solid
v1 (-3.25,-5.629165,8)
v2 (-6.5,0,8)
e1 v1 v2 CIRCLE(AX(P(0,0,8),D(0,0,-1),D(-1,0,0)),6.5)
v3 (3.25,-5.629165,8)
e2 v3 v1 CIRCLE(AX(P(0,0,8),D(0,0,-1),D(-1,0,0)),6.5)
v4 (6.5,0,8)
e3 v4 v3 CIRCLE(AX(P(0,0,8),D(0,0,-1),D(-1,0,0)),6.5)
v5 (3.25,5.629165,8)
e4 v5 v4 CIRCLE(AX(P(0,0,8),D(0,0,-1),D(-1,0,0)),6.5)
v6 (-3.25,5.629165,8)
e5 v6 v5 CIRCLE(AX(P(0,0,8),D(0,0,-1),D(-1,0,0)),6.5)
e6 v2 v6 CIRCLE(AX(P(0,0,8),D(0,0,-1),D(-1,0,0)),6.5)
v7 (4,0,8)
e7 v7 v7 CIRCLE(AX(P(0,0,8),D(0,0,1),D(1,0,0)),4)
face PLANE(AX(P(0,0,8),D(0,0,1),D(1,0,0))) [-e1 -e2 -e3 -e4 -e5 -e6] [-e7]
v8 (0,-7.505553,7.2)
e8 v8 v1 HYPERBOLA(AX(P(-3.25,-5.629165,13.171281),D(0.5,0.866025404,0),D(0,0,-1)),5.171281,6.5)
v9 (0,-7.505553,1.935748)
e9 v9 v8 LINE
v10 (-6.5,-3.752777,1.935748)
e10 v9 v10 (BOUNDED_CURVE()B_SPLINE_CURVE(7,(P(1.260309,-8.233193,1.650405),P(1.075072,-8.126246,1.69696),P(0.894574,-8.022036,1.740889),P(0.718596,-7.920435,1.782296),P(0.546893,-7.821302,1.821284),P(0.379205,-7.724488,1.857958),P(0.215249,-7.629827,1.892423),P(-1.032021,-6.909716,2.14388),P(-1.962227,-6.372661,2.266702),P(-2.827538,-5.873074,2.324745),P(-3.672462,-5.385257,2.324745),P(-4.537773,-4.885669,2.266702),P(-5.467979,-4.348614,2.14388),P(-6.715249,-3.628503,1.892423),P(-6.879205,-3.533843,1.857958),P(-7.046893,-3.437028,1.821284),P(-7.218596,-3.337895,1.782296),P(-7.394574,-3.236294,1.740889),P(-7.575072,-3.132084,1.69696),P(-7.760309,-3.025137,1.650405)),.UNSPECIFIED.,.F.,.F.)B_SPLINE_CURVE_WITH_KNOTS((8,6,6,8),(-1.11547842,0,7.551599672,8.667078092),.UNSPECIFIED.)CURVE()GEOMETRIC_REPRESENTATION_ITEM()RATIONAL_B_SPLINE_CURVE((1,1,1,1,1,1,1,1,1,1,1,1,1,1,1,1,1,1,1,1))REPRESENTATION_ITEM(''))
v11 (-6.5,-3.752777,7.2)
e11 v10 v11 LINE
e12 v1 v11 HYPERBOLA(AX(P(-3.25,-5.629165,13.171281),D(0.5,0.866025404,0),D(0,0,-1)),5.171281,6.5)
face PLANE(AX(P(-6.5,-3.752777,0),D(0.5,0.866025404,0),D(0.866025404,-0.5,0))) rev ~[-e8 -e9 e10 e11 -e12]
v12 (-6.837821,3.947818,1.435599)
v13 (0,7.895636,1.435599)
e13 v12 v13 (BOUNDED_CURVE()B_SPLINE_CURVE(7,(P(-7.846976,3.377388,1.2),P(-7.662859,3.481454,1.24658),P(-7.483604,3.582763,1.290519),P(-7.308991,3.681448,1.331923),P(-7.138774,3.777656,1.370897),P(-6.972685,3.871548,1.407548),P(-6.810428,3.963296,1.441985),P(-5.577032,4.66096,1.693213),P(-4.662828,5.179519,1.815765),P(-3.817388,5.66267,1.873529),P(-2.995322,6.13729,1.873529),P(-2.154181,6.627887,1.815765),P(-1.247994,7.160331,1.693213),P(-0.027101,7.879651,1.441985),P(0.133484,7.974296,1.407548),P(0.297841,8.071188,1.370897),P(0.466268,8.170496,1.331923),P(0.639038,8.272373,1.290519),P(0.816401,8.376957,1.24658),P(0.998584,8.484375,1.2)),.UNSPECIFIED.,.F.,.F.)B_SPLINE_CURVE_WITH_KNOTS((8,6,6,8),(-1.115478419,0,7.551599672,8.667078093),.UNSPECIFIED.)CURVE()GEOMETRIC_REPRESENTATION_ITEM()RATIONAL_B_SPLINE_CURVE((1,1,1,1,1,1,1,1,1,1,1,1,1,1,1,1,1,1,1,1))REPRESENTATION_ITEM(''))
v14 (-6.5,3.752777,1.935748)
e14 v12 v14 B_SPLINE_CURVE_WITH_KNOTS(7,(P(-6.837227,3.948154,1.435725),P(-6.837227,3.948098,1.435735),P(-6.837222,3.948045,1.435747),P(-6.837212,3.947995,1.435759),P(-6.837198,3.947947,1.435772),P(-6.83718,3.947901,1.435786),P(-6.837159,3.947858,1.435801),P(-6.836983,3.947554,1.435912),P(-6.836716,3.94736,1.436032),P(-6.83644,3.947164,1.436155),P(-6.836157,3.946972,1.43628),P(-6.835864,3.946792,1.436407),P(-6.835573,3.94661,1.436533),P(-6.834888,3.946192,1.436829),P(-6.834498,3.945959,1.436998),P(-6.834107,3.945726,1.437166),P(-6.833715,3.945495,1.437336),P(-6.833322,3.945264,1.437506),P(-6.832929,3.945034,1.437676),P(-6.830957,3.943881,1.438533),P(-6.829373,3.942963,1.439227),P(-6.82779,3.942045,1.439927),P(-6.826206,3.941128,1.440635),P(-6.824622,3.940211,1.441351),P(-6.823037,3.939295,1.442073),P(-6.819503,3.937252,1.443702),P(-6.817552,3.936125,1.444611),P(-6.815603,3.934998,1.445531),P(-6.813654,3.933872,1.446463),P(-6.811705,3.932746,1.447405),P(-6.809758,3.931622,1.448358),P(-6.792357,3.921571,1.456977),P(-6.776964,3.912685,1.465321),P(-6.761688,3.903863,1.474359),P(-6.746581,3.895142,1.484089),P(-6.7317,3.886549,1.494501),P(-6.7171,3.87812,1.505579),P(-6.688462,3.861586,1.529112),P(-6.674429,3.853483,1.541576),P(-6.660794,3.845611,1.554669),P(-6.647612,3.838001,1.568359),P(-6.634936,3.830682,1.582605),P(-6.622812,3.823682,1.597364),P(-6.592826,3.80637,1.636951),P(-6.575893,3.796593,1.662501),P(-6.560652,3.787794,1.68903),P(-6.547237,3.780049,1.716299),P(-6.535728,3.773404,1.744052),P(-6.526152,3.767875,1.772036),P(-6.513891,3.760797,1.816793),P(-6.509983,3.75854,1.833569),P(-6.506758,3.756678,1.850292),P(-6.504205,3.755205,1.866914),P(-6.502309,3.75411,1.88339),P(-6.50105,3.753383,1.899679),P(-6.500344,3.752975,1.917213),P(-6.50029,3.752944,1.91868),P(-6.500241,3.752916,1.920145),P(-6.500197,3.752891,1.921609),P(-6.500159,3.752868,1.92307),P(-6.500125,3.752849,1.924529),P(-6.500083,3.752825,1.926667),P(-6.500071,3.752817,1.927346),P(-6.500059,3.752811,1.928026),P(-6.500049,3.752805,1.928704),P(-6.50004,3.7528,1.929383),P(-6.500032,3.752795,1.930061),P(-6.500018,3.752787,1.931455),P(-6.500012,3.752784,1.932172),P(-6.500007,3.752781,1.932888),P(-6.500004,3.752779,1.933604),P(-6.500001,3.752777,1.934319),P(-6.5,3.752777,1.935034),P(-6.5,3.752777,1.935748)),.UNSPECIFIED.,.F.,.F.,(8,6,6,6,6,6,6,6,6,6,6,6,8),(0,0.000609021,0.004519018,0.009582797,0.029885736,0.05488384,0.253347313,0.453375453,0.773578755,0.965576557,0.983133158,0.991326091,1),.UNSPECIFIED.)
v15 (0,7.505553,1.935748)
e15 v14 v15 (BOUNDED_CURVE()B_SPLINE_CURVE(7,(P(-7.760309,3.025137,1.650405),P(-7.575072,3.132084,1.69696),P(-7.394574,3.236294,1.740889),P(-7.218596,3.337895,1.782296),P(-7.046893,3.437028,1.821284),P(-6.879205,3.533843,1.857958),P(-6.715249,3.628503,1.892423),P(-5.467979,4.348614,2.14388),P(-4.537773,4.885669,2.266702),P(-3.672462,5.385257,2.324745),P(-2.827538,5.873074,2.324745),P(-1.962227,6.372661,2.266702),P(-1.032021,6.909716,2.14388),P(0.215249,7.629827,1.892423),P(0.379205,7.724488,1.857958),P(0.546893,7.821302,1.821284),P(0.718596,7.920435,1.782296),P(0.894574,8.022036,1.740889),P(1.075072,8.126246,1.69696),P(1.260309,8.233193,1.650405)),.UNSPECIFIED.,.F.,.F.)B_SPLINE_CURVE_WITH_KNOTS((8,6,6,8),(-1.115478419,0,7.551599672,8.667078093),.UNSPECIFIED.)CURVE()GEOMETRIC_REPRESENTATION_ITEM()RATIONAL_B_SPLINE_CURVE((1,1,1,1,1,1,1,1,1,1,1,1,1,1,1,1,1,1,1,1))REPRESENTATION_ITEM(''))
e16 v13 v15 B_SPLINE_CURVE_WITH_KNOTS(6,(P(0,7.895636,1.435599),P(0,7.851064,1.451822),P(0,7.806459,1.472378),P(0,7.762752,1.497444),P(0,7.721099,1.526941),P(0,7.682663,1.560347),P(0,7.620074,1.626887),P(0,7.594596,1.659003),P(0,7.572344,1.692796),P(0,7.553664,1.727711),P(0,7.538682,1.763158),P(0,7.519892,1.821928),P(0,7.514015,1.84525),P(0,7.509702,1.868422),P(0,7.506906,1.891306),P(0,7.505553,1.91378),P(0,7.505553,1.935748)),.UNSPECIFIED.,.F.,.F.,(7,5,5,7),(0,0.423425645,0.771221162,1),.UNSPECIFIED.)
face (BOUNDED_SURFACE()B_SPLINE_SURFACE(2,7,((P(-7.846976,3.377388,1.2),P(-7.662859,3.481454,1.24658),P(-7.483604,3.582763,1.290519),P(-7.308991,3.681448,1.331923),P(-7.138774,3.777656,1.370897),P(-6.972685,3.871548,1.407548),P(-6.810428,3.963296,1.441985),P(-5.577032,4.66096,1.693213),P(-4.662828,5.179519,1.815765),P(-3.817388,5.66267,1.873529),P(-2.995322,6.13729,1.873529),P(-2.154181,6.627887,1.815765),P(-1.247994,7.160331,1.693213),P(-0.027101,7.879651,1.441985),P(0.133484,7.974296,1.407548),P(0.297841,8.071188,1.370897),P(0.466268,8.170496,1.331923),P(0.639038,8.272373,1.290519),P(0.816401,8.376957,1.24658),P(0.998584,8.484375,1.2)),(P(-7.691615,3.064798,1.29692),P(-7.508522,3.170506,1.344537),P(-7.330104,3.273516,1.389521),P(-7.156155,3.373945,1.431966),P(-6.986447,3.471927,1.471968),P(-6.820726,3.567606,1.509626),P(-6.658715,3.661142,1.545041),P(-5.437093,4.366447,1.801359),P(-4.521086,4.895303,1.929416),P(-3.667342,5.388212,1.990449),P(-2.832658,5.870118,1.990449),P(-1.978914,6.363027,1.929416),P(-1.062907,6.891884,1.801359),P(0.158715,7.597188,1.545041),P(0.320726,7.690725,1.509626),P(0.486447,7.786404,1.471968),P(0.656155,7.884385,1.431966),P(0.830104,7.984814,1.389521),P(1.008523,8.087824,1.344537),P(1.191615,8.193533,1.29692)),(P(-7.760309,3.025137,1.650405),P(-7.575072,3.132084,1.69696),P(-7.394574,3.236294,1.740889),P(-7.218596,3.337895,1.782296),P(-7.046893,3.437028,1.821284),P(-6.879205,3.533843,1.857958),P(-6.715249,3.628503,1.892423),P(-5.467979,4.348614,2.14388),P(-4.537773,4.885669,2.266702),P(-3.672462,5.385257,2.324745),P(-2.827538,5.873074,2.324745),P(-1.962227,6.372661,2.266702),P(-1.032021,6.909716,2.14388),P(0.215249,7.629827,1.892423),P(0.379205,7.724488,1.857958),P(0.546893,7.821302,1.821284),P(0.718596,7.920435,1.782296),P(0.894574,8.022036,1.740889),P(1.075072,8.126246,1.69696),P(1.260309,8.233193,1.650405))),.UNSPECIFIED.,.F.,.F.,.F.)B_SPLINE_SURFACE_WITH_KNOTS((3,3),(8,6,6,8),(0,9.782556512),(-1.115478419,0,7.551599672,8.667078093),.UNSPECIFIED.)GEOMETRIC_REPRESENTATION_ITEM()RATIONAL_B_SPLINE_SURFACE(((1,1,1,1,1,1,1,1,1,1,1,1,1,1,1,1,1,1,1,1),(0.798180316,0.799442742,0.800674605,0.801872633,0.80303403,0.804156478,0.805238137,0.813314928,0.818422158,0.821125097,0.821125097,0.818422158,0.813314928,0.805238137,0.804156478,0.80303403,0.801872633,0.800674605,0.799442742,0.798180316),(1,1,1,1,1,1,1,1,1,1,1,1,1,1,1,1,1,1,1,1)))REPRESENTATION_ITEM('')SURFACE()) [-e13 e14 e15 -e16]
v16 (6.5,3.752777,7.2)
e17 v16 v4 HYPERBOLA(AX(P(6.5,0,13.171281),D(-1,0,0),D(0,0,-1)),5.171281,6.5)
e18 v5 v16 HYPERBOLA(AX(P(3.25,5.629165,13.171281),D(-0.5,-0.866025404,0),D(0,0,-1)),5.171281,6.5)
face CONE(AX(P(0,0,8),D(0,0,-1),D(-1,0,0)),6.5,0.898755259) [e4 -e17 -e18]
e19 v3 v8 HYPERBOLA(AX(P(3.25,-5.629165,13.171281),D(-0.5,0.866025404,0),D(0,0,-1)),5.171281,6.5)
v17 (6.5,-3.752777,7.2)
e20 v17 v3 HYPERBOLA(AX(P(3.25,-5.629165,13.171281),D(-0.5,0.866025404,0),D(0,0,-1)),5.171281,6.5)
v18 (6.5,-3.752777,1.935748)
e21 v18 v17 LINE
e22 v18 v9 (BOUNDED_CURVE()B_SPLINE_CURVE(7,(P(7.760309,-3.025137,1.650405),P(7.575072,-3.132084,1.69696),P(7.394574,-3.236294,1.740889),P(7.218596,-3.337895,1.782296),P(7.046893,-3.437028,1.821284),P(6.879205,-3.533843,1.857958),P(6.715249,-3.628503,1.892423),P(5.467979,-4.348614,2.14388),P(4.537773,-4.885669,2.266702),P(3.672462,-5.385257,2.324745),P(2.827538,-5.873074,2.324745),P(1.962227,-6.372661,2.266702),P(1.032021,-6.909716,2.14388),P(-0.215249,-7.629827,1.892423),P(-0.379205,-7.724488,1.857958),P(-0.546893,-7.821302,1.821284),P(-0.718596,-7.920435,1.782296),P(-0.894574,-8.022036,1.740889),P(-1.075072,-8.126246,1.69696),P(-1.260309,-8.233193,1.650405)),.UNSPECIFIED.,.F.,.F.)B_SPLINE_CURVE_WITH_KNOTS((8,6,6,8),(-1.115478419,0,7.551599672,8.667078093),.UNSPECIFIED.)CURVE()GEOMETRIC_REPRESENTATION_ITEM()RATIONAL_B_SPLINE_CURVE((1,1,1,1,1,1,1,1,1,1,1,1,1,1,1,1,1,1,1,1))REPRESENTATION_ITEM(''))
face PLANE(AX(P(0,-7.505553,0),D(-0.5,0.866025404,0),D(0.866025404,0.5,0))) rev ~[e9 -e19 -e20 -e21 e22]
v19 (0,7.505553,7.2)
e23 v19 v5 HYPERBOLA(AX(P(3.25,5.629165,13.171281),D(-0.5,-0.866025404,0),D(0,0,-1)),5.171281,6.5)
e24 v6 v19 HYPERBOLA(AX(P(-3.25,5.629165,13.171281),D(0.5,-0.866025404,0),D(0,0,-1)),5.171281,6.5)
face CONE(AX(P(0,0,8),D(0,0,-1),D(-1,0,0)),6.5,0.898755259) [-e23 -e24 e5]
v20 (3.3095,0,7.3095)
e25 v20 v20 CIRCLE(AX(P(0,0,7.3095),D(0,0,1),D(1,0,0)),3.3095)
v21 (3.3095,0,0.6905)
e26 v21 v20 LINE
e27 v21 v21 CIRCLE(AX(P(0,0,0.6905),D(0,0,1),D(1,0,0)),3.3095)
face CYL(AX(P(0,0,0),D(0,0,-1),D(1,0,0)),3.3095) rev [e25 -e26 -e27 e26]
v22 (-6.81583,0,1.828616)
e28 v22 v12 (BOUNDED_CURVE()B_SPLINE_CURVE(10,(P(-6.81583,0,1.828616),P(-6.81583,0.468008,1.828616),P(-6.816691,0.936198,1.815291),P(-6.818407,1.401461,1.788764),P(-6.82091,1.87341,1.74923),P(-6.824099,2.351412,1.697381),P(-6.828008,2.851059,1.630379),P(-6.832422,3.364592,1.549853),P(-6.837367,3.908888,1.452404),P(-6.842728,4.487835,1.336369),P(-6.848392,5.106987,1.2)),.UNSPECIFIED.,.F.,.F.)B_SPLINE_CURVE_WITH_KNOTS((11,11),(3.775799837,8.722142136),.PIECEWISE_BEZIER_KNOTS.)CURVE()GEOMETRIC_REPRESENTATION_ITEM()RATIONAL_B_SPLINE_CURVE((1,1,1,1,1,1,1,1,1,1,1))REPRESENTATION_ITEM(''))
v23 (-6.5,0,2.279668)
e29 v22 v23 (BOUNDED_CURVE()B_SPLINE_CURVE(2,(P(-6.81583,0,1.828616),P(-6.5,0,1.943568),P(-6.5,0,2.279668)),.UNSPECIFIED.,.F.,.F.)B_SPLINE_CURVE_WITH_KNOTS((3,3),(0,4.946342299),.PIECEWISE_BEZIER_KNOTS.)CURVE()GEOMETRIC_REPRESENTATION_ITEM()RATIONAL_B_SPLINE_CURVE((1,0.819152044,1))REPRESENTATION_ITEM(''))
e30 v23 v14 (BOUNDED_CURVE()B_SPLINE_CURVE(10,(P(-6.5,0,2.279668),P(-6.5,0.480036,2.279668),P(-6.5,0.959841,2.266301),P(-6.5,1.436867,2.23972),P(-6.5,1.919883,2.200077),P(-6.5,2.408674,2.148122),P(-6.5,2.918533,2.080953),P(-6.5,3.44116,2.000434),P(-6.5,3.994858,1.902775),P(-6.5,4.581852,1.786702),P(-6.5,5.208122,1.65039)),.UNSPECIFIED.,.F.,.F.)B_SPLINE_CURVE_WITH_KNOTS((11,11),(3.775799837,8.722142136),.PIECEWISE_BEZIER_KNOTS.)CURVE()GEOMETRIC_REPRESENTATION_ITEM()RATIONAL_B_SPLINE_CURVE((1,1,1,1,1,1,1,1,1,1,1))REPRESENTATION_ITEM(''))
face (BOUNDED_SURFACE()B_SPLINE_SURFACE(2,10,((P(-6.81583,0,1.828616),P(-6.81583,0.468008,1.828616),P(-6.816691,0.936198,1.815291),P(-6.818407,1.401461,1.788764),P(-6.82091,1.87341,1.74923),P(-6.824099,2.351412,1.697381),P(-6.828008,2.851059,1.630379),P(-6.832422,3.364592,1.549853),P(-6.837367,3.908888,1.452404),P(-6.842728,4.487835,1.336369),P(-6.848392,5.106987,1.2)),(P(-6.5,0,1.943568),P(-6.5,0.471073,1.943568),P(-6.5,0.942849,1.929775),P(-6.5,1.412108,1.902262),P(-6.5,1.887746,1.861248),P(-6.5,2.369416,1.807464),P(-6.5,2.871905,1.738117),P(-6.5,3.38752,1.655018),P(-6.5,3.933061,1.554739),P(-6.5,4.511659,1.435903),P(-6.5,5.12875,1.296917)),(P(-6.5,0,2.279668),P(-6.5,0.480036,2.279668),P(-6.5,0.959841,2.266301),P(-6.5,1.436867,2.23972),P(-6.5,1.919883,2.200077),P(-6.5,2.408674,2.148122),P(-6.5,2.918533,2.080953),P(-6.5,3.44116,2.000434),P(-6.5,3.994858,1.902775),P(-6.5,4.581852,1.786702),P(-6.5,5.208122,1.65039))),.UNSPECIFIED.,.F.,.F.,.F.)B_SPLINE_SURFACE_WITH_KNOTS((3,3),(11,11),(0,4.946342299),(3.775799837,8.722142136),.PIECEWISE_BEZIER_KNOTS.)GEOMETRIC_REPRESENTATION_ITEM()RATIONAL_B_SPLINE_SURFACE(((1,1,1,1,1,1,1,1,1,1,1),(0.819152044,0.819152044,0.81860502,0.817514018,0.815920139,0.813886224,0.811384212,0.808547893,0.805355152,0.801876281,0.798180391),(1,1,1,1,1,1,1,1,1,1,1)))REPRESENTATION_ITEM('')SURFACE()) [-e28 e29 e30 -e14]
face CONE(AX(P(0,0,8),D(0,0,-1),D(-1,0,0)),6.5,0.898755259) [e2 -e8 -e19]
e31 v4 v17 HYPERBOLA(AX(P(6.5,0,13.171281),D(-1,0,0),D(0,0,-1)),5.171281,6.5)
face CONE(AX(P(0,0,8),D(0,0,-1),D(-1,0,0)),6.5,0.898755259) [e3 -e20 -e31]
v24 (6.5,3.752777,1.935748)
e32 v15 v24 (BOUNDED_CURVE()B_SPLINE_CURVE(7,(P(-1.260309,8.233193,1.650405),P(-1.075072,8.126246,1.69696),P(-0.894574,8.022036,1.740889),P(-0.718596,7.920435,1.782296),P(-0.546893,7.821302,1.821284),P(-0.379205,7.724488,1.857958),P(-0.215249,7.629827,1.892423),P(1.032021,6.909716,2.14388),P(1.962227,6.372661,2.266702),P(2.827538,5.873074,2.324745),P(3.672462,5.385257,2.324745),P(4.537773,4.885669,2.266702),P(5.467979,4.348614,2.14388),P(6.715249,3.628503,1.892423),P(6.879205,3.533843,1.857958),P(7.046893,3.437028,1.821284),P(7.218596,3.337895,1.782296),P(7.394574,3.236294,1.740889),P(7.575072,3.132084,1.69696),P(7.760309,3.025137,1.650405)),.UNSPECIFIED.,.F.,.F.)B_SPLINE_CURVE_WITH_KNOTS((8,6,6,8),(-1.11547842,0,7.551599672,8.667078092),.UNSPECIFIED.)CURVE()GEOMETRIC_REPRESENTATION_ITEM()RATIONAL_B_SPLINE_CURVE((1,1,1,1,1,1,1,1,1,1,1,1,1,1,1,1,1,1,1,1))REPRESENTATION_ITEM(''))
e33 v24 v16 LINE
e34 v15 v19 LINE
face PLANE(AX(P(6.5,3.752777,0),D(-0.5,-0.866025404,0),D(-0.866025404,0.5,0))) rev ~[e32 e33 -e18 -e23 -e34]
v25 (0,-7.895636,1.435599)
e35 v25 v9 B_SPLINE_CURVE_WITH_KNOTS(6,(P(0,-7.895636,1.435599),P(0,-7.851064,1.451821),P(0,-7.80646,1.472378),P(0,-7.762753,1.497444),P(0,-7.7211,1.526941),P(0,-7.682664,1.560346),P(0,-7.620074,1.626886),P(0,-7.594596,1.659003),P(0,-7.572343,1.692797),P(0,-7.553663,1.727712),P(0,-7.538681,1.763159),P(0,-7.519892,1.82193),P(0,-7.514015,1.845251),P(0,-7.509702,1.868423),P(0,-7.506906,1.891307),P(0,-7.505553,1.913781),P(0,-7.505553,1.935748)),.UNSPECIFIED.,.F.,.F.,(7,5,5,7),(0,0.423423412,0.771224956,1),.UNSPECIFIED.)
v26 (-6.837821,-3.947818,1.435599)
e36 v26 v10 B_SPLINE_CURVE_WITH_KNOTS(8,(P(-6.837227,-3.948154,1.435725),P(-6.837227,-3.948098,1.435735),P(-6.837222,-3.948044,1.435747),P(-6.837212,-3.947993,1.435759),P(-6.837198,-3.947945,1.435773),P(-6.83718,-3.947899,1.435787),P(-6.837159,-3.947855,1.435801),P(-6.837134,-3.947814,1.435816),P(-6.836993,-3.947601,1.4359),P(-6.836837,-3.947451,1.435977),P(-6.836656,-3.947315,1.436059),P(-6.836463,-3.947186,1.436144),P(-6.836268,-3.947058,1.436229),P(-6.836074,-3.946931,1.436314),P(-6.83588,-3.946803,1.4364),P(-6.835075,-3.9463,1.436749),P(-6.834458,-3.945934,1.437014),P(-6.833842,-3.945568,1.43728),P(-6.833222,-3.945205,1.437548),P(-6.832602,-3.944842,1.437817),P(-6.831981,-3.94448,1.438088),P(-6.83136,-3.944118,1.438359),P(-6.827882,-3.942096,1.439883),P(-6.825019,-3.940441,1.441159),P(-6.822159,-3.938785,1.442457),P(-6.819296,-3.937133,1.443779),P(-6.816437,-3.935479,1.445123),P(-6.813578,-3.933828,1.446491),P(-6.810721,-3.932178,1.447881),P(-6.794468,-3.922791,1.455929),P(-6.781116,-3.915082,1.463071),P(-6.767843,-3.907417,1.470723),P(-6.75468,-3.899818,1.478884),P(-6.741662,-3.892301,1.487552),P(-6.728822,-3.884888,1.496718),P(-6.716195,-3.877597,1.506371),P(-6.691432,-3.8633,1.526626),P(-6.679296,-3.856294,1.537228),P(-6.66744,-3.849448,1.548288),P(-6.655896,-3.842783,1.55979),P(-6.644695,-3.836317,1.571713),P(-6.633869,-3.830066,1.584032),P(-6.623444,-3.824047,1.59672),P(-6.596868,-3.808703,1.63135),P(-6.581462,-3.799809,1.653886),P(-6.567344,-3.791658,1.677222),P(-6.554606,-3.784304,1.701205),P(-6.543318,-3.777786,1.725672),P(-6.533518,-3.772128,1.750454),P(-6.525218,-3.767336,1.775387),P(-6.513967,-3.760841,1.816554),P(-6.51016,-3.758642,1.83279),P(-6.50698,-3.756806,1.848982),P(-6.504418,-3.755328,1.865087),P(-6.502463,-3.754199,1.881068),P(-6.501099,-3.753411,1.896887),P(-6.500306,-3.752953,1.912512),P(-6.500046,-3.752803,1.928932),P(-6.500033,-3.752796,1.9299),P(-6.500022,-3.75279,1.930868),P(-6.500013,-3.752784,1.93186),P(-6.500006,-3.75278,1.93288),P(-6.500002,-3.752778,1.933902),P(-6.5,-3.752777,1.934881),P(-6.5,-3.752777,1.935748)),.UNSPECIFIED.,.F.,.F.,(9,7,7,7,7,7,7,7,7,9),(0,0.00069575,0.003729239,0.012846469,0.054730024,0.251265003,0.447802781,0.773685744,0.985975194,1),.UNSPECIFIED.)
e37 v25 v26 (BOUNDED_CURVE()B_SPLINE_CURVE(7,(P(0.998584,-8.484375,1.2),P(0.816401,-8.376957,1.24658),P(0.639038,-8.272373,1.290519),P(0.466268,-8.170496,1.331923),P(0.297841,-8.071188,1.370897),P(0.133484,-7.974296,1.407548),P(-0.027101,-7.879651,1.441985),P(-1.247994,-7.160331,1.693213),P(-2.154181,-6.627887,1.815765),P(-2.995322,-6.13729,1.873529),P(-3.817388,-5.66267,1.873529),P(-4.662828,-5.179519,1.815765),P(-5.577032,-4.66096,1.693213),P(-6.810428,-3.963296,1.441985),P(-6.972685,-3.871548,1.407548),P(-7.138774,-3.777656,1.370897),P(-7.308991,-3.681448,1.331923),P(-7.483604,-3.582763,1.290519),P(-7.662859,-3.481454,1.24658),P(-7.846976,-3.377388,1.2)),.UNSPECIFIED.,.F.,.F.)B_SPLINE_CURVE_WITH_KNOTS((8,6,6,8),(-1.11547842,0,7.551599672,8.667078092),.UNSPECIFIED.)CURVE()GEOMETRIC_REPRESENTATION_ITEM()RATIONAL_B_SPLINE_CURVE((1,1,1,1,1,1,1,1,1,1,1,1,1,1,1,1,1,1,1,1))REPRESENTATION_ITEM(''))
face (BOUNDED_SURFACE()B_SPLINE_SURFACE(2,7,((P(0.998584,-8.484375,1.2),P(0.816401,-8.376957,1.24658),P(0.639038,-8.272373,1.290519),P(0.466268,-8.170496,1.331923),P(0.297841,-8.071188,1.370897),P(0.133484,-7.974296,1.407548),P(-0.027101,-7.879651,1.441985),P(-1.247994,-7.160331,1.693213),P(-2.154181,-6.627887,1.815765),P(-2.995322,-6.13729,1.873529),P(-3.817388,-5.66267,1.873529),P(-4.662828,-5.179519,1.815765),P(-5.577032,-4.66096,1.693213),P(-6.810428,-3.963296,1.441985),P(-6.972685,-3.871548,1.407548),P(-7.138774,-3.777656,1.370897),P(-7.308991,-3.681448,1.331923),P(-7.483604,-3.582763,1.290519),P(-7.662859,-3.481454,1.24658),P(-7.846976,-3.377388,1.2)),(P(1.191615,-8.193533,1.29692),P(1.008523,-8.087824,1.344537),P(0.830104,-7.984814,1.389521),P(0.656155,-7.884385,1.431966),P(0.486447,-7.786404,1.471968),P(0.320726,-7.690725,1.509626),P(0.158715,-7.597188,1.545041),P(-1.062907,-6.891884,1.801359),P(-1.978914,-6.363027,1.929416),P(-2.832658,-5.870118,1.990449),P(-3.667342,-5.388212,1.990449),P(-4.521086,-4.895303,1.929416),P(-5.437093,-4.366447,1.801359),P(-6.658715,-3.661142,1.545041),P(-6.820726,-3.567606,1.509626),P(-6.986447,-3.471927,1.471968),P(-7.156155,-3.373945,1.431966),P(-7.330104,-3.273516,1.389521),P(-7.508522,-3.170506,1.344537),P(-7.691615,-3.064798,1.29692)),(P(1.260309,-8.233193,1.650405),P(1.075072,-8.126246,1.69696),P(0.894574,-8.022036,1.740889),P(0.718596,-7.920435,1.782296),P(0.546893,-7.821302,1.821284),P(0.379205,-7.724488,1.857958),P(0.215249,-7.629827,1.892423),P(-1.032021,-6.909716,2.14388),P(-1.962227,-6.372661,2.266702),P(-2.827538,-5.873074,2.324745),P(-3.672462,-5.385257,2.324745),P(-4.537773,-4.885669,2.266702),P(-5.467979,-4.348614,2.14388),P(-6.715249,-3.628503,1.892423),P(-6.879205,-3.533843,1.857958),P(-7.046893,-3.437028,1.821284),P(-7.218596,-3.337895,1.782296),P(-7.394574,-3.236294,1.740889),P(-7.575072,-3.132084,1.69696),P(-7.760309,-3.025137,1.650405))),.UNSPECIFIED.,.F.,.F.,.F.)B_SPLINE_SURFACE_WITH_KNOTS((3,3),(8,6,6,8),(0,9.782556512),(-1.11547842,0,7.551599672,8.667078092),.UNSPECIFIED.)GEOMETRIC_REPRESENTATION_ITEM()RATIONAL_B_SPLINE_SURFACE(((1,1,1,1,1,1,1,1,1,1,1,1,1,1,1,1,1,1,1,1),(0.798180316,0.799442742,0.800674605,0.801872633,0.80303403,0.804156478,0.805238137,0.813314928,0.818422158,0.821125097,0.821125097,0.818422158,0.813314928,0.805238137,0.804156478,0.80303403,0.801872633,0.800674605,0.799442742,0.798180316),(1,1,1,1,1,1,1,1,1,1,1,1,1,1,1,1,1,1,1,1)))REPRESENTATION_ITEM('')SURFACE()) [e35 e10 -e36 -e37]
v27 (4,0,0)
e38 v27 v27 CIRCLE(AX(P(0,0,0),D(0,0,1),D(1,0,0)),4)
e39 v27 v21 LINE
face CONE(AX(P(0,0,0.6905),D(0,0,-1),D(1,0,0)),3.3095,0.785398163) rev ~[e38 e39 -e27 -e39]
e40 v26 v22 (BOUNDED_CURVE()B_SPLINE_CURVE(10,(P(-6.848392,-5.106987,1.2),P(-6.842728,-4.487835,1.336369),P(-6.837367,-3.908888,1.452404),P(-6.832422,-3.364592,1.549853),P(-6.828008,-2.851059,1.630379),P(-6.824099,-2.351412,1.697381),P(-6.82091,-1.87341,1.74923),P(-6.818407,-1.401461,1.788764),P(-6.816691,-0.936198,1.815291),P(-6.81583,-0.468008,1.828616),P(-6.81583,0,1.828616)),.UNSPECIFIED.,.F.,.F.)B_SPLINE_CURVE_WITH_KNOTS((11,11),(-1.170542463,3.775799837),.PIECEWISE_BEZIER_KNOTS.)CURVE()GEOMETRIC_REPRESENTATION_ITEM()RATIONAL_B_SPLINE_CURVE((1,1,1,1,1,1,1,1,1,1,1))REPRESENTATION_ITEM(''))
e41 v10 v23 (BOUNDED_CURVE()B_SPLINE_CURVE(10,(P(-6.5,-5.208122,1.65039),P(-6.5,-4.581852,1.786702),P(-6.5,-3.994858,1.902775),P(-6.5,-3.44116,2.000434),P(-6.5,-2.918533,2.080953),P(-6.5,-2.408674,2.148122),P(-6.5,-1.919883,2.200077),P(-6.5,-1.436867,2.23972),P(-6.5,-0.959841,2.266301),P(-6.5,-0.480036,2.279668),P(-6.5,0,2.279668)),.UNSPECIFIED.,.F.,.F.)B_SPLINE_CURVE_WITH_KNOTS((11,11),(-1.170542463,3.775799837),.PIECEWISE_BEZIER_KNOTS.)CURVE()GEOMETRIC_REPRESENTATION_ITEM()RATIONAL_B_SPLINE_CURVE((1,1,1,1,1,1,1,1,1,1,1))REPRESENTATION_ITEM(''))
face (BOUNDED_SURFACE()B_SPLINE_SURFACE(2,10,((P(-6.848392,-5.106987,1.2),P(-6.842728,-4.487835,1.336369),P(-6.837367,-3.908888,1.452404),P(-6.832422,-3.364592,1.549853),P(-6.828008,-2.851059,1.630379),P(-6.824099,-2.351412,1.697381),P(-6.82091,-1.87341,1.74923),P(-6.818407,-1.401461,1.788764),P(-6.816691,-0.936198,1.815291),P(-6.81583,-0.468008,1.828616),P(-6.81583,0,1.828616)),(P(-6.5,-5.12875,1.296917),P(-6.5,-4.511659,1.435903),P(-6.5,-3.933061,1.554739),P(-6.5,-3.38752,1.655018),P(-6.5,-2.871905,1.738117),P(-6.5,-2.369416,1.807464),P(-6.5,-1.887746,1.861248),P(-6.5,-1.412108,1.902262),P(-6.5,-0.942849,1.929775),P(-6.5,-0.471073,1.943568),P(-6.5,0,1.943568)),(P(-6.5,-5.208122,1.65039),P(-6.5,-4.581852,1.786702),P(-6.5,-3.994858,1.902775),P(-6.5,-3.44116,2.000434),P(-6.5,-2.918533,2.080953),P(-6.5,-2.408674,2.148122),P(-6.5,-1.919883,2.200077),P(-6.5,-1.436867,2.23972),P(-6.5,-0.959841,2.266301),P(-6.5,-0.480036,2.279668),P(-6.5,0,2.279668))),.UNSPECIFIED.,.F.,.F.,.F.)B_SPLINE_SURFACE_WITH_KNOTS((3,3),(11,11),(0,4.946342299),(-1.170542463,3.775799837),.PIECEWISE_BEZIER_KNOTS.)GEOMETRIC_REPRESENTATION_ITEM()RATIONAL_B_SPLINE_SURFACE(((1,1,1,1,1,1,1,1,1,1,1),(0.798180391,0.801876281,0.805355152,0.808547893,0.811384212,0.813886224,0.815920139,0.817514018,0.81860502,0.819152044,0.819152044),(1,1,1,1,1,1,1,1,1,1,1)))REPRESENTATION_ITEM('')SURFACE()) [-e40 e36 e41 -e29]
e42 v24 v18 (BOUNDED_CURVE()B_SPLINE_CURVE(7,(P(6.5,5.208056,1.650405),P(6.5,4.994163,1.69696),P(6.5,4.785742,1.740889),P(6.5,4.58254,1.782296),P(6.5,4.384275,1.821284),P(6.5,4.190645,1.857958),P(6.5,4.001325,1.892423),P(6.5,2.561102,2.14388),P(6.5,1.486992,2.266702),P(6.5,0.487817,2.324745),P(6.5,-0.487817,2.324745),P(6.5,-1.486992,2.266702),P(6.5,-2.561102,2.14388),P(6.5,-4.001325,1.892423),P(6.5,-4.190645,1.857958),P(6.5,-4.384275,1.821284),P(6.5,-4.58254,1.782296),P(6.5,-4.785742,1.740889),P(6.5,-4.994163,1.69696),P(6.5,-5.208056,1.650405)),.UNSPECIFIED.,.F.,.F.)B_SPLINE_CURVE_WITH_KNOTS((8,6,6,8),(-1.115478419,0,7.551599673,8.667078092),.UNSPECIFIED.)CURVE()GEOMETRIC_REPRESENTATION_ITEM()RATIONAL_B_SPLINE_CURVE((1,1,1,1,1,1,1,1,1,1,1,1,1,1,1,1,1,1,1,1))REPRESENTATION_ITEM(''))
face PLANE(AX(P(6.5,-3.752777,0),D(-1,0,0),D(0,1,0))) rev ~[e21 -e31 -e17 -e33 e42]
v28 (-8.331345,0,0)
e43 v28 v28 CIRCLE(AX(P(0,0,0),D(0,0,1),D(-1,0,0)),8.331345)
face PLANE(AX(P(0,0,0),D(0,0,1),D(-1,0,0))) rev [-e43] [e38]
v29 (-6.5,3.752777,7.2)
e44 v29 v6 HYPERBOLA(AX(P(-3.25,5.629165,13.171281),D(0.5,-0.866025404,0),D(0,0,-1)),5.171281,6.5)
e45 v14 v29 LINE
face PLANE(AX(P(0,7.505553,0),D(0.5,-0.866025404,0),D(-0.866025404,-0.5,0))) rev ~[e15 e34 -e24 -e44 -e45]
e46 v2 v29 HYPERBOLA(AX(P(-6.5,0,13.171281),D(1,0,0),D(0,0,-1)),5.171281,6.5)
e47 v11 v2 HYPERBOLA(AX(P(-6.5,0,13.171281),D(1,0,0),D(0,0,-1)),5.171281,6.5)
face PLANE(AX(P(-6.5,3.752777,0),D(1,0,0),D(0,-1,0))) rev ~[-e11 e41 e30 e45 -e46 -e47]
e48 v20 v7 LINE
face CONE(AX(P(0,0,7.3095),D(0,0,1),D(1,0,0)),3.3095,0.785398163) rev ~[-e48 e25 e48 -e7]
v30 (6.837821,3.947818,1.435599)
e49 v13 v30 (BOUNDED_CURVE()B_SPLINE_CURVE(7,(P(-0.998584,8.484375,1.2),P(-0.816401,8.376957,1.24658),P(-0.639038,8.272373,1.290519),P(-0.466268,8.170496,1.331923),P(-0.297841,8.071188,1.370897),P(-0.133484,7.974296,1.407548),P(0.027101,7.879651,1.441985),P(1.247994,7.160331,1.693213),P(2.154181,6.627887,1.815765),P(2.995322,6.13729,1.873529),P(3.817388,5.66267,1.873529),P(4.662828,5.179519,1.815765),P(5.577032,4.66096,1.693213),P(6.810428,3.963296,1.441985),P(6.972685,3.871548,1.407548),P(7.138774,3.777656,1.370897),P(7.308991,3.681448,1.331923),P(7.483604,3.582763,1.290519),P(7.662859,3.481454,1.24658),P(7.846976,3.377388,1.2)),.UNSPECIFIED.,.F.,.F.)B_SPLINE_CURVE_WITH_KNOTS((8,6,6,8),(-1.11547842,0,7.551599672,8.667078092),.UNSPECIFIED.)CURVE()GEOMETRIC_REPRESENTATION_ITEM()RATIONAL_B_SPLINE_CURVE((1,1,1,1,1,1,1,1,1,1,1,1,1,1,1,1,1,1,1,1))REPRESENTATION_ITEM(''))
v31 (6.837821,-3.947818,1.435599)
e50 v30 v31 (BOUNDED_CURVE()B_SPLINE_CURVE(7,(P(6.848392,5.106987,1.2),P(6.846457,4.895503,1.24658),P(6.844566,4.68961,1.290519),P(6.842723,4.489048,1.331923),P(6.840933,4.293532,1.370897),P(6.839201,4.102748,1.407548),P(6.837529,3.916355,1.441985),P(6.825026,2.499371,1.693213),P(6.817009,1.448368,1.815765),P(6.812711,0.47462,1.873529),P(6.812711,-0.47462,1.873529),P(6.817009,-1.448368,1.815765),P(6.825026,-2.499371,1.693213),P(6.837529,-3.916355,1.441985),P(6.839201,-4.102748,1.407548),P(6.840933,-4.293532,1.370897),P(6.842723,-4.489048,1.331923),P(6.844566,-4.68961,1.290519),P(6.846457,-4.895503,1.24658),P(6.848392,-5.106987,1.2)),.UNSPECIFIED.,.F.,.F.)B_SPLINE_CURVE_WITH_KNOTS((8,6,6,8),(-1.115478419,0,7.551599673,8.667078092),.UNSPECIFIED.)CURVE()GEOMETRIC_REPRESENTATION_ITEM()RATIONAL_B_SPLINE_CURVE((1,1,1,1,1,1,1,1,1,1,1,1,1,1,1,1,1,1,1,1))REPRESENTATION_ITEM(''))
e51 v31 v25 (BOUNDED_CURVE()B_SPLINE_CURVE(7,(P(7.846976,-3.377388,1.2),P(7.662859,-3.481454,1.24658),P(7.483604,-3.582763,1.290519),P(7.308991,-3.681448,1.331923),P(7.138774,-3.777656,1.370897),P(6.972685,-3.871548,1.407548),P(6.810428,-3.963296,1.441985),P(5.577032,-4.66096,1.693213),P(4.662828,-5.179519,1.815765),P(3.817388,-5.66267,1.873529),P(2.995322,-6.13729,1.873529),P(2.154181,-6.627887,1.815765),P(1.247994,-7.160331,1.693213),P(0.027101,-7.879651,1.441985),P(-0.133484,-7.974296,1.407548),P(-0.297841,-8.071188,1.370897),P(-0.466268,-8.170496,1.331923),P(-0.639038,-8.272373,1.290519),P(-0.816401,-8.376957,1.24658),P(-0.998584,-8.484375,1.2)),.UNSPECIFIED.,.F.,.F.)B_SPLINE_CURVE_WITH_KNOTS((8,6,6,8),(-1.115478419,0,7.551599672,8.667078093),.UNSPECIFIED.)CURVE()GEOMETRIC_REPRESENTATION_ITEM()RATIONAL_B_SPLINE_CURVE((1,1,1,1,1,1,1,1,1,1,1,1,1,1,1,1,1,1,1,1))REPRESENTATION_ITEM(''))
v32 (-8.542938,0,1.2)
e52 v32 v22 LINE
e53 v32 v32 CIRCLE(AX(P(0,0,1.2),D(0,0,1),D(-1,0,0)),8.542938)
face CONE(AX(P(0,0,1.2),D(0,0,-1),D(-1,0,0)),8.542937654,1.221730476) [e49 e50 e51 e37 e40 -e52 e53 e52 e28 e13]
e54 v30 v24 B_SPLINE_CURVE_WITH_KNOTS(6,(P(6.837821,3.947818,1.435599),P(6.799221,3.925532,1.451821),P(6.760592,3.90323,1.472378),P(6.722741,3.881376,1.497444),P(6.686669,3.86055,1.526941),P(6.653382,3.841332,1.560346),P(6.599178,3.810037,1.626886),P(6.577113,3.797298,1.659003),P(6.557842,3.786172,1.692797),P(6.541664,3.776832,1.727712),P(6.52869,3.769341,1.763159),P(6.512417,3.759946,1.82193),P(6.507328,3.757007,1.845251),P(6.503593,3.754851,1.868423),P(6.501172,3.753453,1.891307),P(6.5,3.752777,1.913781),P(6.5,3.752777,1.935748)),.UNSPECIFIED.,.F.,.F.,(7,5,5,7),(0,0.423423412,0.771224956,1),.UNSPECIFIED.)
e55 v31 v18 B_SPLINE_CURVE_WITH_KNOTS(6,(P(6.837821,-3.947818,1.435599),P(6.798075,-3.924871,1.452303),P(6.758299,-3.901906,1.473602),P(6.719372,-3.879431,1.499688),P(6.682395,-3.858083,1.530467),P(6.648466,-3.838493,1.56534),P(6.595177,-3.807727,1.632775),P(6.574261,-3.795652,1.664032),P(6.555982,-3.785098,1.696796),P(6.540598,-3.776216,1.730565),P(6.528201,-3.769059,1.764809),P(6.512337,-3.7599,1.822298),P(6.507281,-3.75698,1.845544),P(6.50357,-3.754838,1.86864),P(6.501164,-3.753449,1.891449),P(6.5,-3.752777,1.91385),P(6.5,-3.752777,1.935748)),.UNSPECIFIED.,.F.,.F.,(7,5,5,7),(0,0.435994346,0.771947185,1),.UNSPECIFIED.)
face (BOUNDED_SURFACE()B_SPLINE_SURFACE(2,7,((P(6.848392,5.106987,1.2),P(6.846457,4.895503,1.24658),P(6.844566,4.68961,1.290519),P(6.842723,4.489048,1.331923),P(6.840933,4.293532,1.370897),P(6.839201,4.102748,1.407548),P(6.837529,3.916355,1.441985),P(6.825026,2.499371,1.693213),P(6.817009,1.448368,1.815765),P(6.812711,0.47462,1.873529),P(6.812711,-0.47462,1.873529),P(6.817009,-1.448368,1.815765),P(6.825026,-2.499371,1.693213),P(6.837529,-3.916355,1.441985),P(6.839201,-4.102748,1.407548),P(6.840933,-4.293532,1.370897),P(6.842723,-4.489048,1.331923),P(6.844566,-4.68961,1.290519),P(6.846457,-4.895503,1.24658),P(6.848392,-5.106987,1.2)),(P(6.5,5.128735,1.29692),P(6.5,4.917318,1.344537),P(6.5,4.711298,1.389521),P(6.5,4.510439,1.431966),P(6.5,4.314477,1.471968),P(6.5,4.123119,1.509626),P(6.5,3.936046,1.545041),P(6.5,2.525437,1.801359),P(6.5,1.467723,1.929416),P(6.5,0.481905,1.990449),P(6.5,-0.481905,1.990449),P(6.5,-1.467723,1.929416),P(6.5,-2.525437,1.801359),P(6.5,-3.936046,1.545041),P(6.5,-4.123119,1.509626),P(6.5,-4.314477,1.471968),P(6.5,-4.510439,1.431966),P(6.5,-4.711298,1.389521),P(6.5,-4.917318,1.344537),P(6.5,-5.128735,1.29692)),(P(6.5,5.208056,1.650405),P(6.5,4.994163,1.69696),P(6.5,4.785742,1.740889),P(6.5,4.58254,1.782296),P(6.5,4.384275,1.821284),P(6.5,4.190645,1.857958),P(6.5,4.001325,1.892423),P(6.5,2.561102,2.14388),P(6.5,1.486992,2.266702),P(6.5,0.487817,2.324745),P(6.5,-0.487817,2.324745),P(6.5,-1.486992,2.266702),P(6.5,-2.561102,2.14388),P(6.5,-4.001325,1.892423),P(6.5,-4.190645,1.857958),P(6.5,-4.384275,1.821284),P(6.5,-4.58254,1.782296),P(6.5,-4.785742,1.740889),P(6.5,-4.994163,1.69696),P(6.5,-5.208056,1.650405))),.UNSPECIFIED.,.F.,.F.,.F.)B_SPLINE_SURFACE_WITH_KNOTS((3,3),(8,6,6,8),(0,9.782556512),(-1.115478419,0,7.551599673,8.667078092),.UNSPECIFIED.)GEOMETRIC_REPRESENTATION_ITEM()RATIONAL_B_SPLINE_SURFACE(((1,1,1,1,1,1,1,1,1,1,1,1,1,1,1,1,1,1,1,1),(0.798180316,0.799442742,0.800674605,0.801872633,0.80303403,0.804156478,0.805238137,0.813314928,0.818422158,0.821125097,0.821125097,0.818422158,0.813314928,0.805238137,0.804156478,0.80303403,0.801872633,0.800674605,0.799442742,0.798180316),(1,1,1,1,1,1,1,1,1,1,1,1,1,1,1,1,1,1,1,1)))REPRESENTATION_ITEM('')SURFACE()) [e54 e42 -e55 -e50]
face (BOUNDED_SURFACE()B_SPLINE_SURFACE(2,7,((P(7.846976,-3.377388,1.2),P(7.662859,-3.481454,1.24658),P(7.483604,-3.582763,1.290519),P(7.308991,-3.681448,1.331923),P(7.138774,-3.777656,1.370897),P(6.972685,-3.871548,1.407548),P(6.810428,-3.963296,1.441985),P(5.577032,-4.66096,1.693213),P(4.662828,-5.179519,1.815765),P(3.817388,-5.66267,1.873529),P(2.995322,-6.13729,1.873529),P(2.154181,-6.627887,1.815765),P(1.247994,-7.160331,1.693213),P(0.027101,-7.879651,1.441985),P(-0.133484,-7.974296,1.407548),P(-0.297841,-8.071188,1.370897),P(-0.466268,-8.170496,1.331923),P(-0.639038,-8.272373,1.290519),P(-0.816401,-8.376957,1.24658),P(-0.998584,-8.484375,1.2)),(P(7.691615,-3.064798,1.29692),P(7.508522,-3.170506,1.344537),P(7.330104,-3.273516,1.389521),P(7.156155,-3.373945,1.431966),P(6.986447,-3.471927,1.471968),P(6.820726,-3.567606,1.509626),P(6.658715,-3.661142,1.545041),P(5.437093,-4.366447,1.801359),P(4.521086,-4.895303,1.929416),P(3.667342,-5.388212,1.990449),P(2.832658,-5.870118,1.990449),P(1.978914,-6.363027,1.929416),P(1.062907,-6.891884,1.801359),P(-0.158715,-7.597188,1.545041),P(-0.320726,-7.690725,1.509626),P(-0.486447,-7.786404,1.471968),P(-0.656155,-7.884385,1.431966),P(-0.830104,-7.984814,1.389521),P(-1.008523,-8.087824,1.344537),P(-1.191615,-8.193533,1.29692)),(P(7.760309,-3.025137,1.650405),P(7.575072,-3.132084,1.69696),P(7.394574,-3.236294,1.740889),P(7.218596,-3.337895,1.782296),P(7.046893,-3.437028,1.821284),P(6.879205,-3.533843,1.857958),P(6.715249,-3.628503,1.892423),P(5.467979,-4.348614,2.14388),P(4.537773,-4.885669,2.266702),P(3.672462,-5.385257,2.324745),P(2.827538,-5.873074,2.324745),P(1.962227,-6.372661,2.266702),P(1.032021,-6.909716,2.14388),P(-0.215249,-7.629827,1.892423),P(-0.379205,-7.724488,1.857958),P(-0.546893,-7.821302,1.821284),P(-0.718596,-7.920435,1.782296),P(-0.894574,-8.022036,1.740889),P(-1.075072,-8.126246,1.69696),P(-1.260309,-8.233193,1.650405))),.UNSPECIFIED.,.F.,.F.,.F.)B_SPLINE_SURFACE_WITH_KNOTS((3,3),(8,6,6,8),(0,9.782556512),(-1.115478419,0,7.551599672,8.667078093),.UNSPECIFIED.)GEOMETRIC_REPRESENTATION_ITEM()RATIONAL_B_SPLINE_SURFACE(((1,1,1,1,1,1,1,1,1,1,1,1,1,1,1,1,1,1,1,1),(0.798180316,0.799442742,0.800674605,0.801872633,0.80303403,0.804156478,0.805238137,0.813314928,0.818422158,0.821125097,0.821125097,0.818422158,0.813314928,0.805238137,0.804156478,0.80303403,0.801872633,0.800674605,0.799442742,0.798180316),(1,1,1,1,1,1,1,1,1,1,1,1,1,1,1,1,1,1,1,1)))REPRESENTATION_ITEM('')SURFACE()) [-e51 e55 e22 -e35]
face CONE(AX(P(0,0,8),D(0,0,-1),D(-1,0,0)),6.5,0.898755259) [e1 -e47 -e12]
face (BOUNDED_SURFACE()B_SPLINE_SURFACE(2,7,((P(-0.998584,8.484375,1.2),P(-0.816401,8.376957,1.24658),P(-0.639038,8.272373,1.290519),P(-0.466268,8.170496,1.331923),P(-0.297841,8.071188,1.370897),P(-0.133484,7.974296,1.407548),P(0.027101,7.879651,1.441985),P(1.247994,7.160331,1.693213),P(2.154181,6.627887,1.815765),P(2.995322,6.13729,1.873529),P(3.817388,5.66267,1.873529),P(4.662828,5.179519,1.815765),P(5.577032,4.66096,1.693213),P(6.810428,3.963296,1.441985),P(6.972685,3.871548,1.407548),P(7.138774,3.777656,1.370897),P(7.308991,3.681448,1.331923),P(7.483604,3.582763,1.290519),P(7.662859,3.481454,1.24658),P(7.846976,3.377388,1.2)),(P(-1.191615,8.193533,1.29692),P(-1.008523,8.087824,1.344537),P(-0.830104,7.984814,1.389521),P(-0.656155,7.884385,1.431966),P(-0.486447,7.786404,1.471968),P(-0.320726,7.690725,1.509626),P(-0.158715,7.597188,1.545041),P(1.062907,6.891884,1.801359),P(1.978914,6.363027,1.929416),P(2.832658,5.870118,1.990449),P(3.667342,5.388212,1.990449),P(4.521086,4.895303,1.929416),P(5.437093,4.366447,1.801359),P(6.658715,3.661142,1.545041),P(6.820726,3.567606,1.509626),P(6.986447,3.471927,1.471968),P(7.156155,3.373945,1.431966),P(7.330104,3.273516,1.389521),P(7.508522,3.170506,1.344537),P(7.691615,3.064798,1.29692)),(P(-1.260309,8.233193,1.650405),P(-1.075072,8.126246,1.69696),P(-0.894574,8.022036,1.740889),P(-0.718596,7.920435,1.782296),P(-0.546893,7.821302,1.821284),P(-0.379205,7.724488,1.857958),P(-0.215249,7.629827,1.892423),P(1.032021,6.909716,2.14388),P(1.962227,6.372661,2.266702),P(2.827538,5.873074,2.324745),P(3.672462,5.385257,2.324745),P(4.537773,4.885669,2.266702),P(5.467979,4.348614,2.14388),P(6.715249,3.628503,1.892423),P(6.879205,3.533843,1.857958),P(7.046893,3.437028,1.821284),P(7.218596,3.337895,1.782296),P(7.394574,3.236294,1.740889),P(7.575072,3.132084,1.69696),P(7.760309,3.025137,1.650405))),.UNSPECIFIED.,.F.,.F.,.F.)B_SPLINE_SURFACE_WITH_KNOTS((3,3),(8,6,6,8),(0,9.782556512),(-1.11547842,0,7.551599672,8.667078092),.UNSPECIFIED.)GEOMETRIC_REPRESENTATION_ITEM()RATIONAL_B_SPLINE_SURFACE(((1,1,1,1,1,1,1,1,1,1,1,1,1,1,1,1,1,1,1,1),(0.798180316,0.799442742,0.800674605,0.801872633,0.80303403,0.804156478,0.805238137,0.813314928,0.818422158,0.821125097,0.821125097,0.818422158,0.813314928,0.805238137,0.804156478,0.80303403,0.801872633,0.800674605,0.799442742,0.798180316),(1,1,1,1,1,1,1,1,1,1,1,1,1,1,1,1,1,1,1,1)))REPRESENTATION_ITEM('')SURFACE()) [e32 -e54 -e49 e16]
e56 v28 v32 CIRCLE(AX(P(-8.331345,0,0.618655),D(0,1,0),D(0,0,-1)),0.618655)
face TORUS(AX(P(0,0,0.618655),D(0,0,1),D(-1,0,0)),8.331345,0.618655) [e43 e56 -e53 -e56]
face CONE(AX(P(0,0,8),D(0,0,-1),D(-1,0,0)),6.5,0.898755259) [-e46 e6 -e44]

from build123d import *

# Parameters (mm, degrees)
SCHIZZO1_R                   = 3.3095
ESTRUSIONE_ESTRUSIONE1_DEPTH = 8
RACCORDO1_R                  = 0.48
SMUSSO1_SIZE                 = 0.6905


with BuildPart() as part:
    # Schizzo1 → Estrusione-Estrusione1 (new body)
    with BuildSketch(Plane.XY):
        Polygon((0, 7.505553499), (-6.5, 3.75277675), (-6.5, -3.75277675), (0, -7.505553499), (6.5, -3.75277675), (6.5, 3.75277675), align=None)
        Circle(SCHIZZO1_R, mode=Mode.SUBTRACT)
    extrude(amount=ESTRUSIONE_ESTRUSIONE1_DEPTH)

    # Schizzo2 → Rivoluzione1 (revolve)
    with BuildSketch(Plane(origin=(0, 0, 0), x_dir=(0, 0, -1), z_dir=(1, 0, 0)), mode=Mode.PRIVATE) as rivoluzione1_sk:
        with BuildLine():
            Line((0, 3.3095), (0, 8.331345278))
            ThreePointArc((0, 8.331345278), (-0.511226457, 8.940601245), (-1.2, 8.542937654))
            Line((-1.2, 8.542937654), (-3.104815529, 3.3095))
            Line((-3.104815529, 3.3095), (0, 3.3095))
        make_face()
    revolve(rivoluzione1_sk.sketch.rotate(Axis((0, 0, 0), (0, 0, 1)), 90), axis=Axis((0, 0, 0), (0, 0, 1)))

    # Schizzo3 → Taglia-Rivoluzione1 (revolve, cut)
    with BuildSketch(Plane(origin=(0, 0, 0), x_dir=(0, 0, -1), z_dir=(1, 0, 0)), mode=Mode.PRIVATE) as taglia_rivoluzione1_sk:
        Polygon((-8, 6.5), (-7.2, 7.505553499), (-7.2, 20.205553499), (-20.7, 20.205553499), (-20.7, 6.5), align=None)
    revolve(taglia_rivoluzione1_sk.sketch.rotate(Axis((0, 0, 8), (0, 0, -1)), 270), axis=Axis((0, 0, 8), (0, 0, -1)), mode=Mode.SUBTRACT)

    # Raccordo1
    raccordo1_edges = [part.edges().sort_by_distance(p)[0] for p in [
        (-6.5, -1.884573791, 1.846137562),
        (-3.25, -5.629165125, 1.943568497),
        (3.25, -5.629165125, 1.943568497),
        (6.5, 0, 1.943568497),
        (3.25, 5.629165125, 1.943568497),
        (-3.25, 5.629165125, 1.943568497),
        (-6.5, 1.884573791, 1.846137562),
    ]]
    fillet(raccordo1_edges, radius=RACCORDO1_R)

    # Smusso1
    smusso1_edges = [part.edges().sort_by_distance(p)[0] for p in [
        (-3.3095, 0, 0),
        (-3.3095, 0, 8),
    ]]
    chamfer(smusso1_edges, length=SMUSSO1_SIZE)


solid = part.part
